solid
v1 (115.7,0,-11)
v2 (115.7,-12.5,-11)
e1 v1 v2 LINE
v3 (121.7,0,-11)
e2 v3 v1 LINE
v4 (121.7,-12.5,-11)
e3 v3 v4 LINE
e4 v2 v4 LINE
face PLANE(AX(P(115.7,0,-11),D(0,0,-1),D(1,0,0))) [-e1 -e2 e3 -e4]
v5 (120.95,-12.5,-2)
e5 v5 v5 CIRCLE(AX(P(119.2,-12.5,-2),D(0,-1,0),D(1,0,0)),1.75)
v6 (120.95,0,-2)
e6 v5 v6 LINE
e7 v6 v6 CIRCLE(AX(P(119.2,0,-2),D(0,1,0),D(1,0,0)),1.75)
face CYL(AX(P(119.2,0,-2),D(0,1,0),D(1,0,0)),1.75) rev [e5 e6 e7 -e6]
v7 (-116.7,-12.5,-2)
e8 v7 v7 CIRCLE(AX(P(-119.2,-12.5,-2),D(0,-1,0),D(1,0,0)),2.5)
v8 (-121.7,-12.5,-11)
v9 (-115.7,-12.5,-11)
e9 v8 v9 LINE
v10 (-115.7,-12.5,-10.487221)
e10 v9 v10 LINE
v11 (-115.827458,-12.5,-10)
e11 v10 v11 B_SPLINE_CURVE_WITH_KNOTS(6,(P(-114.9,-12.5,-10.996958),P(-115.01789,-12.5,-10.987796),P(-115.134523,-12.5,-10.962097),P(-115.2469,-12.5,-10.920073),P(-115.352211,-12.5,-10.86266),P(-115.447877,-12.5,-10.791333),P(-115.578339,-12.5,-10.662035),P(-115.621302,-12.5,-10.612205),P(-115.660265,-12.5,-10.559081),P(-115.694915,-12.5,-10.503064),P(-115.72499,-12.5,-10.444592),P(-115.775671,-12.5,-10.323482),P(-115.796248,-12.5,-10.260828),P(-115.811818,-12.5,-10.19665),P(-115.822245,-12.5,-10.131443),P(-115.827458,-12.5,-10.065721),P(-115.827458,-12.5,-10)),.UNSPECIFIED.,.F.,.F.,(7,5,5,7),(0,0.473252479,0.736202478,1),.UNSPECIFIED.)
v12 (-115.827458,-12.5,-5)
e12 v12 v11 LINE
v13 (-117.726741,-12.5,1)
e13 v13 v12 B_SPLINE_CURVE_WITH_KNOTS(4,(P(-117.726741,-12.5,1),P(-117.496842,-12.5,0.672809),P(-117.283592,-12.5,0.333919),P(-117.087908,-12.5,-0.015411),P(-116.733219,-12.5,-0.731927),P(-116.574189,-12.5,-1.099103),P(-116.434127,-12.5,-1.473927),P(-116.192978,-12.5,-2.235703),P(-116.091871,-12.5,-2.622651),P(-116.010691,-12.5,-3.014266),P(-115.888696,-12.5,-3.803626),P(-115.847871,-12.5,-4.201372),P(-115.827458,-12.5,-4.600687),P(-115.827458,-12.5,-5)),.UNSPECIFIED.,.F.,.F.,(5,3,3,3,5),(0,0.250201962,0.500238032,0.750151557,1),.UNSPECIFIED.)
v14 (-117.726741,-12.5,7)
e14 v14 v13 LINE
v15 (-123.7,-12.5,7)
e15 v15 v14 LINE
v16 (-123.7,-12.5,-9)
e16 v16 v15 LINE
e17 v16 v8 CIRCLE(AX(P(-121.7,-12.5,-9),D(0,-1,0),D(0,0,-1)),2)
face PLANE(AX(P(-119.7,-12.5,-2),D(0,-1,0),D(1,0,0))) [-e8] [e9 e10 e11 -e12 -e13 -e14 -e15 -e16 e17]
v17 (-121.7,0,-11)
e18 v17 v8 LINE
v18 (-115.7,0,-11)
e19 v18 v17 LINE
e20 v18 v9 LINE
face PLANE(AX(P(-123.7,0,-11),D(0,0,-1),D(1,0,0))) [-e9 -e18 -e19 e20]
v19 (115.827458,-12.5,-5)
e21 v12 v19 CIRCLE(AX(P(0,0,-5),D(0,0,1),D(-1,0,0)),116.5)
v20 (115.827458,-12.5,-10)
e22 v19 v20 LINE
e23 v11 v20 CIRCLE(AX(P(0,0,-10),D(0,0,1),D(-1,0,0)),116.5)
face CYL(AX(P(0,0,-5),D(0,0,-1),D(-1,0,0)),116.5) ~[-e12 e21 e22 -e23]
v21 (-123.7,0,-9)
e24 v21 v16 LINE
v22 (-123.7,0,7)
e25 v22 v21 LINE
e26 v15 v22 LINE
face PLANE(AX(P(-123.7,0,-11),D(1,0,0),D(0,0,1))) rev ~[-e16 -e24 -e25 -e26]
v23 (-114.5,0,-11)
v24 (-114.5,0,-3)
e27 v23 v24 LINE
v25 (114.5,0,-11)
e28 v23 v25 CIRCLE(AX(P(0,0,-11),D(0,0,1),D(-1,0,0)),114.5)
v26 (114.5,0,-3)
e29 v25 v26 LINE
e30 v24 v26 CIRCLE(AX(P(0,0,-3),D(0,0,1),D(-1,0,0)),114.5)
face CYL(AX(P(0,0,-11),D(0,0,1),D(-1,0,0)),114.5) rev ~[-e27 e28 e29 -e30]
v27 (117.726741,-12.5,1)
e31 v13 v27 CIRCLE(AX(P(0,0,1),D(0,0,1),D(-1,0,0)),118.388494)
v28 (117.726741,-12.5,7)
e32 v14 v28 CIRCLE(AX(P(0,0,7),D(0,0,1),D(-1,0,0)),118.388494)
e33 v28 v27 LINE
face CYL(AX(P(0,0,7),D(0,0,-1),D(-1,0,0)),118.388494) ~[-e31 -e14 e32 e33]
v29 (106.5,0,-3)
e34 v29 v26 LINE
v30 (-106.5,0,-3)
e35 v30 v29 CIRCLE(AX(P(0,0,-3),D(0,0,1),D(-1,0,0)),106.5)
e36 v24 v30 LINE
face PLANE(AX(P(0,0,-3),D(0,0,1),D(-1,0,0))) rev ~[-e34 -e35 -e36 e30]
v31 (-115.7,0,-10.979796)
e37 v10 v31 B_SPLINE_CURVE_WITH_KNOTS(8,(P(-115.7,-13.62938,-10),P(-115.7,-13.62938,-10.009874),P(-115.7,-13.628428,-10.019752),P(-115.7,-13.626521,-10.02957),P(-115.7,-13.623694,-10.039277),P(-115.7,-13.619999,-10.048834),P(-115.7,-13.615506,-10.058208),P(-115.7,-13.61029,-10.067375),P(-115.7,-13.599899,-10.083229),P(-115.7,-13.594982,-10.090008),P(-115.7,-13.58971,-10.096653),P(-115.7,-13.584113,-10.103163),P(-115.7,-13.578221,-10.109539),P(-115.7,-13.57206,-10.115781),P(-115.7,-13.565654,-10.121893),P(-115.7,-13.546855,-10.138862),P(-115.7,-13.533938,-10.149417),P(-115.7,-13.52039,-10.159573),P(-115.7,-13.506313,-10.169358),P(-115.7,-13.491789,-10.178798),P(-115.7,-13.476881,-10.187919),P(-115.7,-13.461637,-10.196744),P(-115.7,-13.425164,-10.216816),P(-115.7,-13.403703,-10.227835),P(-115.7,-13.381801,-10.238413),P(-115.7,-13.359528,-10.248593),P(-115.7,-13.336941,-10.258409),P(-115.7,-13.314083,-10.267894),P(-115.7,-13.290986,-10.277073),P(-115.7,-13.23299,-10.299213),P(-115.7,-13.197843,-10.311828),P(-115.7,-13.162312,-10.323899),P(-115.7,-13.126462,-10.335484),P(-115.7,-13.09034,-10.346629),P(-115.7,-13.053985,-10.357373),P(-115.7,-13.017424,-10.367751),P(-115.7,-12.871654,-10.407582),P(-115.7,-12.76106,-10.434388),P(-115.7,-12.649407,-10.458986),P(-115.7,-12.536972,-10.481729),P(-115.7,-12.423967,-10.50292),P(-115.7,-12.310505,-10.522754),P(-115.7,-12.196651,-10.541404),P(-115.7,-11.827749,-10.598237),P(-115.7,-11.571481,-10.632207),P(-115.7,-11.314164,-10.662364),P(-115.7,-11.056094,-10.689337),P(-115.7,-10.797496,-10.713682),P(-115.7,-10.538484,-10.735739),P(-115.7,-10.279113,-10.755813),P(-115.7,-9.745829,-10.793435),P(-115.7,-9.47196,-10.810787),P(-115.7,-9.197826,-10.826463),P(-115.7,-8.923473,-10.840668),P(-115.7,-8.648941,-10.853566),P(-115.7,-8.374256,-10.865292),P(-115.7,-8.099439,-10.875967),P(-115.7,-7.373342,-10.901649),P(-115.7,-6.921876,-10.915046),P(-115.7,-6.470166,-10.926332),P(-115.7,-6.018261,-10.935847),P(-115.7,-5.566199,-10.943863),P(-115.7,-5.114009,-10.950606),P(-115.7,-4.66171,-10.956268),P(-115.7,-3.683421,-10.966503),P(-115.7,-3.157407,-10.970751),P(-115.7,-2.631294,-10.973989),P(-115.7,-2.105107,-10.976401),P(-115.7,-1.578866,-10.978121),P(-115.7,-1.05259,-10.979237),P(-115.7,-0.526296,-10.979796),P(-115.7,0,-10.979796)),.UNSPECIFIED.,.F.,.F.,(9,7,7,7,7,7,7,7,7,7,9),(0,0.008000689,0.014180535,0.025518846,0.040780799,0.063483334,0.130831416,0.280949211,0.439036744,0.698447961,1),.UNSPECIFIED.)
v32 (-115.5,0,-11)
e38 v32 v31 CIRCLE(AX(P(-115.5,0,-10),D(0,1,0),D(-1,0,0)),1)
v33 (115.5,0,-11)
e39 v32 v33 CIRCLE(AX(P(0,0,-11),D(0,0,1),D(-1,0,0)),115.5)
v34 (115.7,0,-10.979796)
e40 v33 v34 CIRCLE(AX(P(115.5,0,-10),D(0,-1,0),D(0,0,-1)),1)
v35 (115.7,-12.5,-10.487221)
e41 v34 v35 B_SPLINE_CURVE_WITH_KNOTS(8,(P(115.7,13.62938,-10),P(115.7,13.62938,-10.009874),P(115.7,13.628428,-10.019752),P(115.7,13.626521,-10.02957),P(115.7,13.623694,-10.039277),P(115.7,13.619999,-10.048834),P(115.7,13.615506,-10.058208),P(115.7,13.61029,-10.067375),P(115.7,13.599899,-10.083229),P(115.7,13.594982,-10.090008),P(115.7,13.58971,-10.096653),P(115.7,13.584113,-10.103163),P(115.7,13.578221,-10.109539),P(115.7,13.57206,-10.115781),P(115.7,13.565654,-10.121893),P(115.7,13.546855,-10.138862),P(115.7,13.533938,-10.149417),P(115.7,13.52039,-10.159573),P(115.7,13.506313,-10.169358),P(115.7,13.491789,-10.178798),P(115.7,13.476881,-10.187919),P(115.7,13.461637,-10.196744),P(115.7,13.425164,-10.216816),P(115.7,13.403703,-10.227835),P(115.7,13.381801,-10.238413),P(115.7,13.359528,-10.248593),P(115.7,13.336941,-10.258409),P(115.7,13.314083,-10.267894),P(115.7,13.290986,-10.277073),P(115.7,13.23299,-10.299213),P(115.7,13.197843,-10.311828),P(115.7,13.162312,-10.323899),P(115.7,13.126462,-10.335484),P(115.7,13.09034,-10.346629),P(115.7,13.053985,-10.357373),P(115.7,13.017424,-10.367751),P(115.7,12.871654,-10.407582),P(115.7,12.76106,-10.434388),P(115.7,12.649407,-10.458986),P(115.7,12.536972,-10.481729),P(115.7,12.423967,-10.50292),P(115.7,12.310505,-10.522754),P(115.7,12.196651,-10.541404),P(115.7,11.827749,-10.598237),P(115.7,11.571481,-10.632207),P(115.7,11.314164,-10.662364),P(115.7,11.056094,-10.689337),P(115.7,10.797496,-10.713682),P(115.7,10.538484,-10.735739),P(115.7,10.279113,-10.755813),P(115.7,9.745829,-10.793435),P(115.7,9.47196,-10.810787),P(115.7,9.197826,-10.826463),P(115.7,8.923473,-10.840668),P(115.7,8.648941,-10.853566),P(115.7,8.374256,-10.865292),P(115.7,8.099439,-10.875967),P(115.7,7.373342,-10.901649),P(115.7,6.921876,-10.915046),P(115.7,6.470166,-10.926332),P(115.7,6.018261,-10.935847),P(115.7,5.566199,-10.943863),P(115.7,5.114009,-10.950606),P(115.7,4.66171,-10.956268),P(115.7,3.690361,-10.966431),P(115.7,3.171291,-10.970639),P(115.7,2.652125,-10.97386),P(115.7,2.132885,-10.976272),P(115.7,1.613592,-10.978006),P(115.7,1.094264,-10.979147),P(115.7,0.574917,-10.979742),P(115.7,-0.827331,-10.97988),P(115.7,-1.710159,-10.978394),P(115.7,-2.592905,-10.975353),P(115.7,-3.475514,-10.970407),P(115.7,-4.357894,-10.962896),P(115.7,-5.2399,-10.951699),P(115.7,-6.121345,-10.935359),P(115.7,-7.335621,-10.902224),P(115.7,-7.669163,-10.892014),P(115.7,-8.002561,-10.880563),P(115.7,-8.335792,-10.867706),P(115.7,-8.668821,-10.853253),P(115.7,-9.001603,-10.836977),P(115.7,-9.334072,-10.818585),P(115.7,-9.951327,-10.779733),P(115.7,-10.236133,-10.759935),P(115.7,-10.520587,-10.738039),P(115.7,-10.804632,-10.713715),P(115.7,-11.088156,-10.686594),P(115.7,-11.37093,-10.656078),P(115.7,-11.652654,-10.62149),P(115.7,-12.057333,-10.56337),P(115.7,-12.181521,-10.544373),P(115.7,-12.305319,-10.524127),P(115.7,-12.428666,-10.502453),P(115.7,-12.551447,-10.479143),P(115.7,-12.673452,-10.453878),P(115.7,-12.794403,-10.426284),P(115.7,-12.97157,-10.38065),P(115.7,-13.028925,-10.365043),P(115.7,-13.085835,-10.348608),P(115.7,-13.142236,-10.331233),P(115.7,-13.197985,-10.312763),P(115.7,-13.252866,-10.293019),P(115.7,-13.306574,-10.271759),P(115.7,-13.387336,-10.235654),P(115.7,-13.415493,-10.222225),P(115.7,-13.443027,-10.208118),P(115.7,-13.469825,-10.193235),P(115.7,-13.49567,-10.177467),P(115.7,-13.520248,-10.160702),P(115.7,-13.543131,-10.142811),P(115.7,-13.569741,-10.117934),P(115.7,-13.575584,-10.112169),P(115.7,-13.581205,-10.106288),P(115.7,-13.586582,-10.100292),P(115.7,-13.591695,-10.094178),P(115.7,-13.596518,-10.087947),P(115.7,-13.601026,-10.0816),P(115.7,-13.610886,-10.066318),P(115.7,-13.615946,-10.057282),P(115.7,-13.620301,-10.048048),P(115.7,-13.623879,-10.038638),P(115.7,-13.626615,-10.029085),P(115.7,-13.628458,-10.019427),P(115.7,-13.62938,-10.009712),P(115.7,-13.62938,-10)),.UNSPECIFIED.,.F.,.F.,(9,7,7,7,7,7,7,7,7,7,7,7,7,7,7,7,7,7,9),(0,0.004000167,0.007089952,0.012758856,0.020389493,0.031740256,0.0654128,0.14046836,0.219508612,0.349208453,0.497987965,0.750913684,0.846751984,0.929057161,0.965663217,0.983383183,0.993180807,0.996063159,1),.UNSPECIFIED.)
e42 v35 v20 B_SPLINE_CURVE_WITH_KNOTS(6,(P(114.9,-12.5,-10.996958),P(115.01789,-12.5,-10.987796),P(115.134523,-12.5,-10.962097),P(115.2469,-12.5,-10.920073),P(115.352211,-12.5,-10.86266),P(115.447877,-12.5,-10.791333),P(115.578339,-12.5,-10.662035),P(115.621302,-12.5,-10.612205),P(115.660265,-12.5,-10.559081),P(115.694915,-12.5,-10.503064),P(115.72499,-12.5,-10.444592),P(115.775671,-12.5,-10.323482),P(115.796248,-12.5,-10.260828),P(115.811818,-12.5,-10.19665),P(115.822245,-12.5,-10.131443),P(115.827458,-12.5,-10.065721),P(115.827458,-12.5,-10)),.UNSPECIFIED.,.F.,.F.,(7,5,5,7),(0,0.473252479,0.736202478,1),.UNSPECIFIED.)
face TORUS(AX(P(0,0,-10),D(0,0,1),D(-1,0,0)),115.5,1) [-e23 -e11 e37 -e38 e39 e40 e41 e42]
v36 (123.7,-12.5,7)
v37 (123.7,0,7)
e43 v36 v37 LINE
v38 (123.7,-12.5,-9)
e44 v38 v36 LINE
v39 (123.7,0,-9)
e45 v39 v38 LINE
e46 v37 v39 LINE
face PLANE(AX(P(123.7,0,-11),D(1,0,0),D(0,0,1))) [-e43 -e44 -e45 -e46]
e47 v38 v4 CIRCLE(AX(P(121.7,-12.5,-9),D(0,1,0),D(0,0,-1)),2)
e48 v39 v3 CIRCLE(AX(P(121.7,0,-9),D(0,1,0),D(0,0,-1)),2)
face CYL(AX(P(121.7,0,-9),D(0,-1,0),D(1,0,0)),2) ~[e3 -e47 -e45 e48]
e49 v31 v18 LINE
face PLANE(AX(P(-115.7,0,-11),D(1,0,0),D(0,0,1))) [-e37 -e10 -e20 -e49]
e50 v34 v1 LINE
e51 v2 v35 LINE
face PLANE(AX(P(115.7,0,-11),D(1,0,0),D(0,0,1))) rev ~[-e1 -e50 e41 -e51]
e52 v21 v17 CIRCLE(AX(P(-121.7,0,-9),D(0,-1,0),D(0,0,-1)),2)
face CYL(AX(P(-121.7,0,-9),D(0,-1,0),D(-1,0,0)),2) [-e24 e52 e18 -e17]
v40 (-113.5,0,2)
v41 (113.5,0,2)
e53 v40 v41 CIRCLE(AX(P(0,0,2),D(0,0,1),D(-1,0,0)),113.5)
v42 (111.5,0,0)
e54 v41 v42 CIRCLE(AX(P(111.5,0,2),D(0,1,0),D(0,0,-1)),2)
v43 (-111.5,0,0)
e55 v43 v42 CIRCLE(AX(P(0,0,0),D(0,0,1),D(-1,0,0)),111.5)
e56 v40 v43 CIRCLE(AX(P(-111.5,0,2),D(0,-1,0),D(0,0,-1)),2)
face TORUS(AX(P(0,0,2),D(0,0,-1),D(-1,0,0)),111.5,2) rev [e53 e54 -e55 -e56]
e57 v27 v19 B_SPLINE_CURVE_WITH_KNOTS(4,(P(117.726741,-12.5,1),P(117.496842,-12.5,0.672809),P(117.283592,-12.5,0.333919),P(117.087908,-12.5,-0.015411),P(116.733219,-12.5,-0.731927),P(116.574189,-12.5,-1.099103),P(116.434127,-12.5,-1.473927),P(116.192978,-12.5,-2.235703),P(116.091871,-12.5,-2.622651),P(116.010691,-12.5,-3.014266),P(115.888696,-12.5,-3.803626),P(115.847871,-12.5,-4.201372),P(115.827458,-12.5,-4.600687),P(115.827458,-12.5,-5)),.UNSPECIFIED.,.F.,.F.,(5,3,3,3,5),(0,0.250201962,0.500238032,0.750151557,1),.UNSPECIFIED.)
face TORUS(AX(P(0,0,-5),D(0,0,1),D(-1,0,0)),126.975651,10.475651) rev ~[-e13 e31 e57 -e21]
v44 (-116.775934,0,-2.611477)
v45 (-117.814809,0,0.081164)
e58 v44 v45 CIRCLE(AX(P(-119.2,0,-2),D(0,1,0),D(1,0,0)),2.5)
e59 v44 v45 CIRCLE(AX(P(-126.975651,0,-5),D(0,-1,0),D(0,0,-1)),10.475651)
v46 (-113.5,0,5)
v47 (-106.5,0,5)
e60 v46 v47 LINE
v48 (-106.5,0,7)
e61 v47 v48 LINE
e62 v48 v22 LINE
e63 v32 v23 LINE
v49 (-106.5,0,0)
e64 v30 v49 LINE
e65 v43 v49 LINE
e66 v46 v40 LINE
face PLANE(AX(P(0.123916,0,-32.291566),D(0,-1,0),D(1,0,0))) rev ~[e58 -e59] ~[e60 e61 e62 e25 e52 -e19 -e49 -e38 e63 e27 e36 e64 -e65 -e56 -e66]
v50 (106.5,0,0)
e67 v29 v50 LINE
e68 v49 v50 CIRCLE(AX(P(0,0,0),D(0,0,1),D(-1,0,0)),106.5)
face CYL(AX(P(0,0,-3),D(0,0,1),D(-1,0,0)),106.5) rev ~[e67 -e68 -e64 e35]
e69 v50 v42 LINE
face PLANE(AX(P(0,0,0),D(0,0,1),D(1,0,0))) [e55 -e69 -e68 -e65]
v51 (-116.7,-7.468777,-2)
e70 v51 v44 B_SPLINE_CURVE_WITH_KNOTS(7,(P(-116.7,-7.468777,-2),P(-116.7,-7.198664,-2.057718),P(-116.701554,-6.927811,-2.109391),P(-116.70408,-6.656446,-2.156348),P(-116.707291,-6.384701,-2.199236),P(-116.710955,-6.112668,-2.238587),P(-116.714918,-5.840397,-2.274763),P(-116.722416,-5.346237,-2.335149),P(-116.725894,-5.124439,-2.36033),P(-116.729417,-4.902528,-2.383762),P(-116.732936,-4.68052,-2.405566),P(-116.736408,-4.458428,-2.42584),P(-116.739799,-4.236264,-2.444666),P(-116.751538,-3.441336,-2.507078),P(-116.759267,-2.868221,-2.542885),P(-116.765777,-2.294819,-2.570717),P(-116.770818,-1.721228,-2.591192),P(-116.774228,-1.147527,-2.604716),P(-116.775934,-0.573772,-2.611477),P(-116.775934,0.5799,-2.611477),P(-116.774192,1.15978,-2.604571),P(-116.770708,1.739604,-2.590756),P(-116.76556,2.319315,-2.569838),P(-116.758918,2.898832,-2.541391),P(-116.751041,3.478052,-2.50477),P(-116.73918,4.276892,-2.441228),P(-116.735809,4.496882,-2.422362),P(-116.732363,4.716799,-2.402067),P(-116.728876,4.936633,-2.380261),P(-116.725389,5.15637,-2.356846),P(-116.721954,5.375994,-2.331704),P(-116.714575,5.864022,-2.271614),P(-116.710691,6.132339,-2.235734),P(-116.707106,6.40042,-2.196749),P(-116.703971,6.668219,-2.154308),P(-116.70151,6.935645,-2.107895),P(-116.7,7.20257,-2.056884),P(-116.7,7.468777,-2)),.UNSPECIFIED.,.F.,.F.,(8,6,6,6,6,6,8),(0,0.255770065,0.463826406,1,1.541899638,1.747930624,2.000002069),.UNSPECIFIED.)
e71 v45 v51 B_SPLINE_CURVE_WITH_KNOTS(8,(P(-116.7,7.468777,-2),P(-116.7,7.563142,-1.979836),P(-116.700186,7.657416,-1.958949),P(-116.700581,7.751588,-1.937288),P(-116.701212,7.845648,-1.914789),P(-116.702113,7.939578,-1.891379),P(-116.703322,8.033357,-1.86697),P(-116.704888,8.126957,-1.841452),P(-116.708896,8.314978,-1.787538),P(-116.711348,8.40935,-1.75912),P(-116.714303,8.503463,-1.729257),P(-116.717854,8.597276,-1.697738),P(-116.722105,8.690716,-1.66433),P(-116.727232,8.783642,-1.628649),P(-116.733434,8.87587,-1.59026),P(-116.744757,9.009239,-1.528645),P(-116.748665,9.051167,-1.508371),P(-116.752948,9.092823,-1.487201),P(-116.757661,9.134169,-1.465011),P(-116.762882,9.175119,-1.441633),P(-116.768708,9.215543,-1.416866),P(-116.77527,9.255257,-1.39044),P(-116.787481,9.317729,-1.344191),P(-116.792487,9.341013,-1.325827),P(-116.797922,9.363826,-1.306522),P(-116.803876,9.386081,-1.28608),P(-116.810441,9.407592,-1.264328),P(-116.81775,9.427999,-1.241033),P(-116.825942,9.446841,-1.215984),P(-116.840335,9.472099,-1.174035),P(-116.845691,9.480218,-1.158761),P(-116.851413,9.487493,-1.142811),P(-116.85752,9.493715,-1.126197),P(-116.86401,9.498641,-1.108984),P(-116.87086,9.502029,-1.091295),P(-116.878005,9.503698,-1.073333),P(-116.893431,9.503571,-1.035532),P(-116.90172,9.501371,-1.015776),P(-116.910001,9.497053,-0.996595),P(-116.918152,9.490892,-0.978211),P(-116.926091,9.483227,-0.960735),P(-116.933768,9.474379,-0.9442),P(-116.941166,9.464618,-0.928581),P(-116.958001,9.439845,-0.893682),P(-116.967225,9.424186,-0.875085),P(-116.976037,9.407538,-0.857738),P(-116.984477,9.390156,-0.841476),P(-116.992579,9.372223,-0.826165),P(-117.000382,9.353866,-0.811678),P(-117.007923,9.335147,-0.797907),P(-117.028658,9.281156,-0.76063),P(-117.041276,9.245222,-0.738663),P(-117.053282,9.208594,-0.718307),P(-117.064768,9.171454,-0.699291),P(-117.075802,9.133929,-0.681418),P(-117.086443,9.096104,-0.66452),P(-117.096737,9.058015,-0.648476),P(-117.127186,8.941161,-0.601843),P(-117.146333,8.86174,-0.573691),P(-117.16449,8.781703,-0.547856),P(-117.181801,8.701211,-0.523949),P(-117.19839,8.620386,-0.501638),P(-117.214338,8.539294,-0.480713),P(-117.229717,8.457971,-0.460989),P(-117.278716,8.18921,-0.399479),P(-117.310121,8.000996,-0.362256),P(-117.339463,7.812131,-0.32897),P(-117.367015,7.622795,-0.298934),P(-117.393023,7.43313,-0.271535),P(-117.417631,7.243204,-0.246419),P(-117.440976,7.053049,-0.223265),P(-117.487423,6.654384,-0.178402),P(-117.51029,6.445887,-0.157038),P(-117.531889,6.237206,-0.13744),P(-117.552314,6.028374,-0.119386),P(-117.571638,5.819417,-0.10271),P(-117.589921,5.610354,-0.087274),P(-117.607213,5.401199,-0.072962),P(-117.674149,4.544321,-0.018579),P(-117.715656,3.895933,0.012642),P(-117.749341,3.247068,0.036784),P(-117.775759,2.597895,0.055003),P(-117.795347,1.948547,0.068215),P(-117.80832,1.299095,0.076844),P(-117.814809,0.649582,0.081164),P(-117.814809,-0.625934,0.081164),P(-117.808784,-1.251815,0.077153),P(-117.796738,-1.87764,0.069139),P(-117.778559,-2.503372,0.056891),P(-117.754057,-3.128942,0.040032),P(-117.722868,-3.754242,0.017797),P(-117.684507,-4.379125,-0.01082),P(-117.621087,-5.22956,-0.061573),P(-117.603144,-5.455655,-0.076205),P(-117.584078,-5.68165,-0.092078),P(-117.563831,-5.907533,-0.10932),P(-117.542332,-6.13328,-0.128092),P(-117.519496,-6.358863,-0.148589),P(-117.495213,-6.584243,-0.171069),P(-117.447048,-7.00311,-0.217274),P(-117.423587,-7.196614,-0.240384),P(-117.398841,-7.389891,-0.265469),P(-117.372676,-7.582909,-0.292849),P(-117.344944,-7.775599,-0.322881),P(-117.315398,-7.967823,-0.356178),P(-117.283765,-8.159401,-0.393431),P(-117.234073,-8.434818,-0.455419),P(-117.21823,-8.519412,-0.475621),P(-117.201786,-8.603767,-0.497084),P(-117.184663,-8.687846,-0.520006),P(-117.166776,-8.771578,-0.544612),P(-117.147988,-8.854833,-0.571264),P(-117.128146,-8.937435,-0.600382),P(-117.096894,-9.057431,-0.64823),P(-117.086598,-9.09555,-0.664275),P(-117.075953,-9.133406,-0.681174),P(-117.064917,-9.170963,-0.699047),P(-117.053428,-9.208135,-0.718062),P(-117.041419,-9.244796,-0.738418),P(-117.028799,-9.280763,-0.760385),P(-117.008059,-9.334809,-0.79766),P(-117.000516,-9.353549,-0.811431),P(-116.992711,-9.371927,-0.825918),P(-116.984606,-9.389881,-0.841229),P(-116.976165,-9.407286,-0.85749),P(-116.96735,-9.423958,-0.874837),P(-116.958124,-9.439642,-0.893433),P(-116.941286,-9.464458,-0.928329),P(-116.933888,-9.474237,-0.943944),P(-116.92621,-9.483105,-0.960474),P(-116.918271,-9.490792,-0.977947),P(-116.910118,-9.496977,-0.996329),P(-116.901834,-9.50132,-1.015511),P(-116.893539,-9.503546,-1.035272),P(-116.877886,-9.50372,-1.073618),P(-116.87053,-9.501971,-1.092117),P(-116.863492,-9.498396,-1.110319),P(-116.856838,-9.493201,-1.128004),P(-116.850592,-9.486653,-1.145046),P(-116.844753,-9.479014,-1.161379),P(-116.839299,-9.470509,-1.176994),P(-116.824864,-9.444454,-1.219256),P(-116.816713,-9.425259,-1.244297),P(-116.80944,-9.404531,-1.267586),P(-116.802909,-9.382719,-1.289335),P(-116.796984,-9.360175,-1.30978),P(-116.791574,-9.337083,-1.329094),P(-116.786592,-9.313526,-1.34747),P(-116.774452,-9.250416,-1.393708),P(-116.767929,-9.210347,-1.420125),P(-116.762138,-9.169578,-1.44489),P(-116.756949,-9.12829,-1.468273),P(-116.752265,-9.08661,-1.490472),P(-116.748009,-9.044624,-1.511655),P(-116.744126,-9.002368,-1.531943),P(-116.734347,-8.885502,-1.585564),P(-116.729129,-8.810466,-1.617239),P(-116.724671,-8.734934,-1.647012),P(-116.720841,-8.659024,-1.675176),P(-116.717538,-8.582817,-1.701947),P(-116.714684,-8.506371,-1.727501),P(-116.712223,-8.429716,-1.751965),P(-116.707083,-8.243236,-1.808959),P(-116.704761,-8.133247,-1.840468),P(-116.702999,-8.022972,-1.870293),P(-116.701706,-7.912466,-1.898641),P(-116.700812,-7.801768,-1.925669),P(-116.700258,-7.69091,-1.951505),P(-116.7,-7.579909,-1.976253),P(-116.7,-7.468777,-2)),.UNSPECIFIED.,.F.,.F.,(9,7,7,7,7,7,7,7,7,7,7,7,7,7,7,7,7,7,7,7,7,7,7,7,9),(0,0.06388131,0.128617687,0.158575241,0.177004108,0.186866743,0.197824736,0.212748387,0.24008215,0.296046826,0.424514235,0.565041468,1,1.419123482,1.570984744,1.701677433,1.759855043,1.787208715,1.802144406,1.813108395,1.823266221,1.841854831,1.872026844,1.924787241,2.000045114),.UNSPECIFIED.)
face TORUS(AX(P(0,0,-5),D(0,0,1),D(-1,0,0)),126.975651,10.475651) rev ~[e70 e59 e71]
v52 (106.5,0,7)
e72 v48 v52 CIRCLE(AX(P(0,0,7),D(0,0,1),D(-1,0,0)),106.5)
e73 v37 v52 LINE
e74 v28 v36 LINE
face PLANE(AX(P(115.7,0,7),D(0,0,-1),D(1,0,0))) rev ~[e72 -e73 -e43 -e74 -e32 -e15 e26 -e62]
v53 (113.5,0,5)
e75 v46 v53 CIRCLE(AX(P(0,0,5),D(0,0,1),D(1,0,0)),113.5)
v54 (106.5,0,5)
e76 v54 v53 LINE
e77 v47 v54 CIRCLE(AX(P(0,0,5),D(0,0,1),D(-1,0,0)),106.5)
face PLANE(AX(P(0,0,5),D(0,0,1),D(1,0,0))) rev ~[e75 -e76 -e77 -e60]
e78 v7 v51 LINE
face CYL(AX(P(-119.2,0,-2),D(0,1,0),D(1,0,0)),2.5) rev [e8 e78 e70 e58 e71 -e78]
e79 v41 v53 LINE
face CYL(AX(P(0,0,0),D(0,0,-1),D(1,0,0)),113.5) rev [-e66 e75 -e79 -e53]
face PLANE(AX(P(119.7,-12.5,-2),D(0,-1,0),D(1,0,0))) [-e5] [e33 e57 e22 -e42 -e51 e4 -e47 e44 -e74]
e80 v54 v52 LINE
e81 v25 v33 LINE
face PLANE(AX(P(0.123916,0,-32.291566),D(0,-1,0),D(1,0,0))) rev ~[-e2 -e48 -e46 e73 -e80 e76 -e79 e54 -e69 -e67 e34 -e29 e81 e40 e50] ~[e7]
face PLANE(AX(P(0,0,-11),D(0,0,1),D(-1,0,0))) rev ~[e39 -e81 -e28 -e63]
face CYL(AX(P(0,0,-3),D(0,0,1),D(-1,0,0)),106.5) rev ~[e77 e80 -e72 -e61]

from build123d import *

# Parameters (mm, degrees)
F2_R      = 113.5
F3_DEPTH  = 5
F4_R      = 1
F5_W      = 8
F5_H      = 18
F5_R      = 2.5
F7_DEPTH  = 12.5
F6_W      = 8
F6_H      = 18
F6_R      = 1.75
F8_DEPTH  = 12.5
F9_W      = 250
F9_H      = 100
F10_DEPTH = 150
F11_R     = 2
F12_R     = 2


with BuildPart() as f1:
    # F0 (on Front) → F1 (revolve)
    with BuildSketch(Plane.XZ):
        with BuildLine():
            Line((-114.5, -3), (-106.5, -3))
            Line((-106.5, -3), (-106.5, 0))
            Line((-106.5, 0), (-106.5, 7))
            Line((-106.5, 7), (-106.888494173, 7))
            Line((-106.888494173, 7), (-118.388494173, 7))
            Line((-118.388494173, 7.0000000475), (-118.388494173, 1.0000000475))
            ThreePointArc((-118.388494173, 1.0000000475), (-116.9832708565, -1.8549081567), (-116.5, -5))
            Line((-116.5, -5), (-116.5, -11))
            Line((-116.5, -11), (-114.5, -11))
            Line((-114.5, -11), (-114.5, -3))
        make_face()
    revolve(axis=Axis((0, 0, -0.2650997043), (0, 0, 1)))

    # F2 (on Top) → F3 (cut)
    with BuildSketch(Plane.XY):
        Circle(F2_R)
    extrude(amount=F3_DEPTH, mode=Mode.SUBTRACT)

    # F4
    f4_edges = [f1.edges().sort_by_distance(p)[0] for p in [
        (116.5, 0, -11),
    ]]
    fillet(f4_edges, radius=F4_R)

    # F5 (on Front) → F7 (join, symmetric)
    with BuildSketch(Plane.XZ):
        with Locations((-119.7, -2)):
            Rectangle(F5_W, F5_H)
        with Locations((-119.2, -2)):
            Circle(F5_R, mode=Mode.SUBTRACT)
    extrude(amount=F7_DEPTH, both=True)

    # F6 (on Front) → F8 (join, symmetric)
    with BuildSketch(Plane.XZ):
        with Locations((119.7, -2)):
            Rectangle(F6_W, F6_H)
        with Locations((119.2, -2)):
            Circle(F6_R, mode=Mode.SUBTRACT)
    extrude(amount=F8_DEPTH, both=True)

    # F9 (on Front) → F10 (cut)
    with BuildSketch(Plane.XZ):
        with Locations((0.1239156971, -32.2915658355)):
            Rectangle(F9_W, F9_H)
    extrude(amount=-F10_DEPTH, mode=Mode.SUBTRACT)

    # F11
    f11_edges = [f1.edges().sort_by_distance(p)[0] for p in [
        (0, -113.5, 0),
    ]]
    fillet(f11_edges, radius=F11_R)

    # F12
    f12_edges = [f1.edges().sort_by_distance(p)[0] for p in [
        (123.7, -6.25, -11),
        (-123.7, -6.25, -11),
    ]]
    fillet(f12_edges, radius=F12_R)


solid = f1.part
